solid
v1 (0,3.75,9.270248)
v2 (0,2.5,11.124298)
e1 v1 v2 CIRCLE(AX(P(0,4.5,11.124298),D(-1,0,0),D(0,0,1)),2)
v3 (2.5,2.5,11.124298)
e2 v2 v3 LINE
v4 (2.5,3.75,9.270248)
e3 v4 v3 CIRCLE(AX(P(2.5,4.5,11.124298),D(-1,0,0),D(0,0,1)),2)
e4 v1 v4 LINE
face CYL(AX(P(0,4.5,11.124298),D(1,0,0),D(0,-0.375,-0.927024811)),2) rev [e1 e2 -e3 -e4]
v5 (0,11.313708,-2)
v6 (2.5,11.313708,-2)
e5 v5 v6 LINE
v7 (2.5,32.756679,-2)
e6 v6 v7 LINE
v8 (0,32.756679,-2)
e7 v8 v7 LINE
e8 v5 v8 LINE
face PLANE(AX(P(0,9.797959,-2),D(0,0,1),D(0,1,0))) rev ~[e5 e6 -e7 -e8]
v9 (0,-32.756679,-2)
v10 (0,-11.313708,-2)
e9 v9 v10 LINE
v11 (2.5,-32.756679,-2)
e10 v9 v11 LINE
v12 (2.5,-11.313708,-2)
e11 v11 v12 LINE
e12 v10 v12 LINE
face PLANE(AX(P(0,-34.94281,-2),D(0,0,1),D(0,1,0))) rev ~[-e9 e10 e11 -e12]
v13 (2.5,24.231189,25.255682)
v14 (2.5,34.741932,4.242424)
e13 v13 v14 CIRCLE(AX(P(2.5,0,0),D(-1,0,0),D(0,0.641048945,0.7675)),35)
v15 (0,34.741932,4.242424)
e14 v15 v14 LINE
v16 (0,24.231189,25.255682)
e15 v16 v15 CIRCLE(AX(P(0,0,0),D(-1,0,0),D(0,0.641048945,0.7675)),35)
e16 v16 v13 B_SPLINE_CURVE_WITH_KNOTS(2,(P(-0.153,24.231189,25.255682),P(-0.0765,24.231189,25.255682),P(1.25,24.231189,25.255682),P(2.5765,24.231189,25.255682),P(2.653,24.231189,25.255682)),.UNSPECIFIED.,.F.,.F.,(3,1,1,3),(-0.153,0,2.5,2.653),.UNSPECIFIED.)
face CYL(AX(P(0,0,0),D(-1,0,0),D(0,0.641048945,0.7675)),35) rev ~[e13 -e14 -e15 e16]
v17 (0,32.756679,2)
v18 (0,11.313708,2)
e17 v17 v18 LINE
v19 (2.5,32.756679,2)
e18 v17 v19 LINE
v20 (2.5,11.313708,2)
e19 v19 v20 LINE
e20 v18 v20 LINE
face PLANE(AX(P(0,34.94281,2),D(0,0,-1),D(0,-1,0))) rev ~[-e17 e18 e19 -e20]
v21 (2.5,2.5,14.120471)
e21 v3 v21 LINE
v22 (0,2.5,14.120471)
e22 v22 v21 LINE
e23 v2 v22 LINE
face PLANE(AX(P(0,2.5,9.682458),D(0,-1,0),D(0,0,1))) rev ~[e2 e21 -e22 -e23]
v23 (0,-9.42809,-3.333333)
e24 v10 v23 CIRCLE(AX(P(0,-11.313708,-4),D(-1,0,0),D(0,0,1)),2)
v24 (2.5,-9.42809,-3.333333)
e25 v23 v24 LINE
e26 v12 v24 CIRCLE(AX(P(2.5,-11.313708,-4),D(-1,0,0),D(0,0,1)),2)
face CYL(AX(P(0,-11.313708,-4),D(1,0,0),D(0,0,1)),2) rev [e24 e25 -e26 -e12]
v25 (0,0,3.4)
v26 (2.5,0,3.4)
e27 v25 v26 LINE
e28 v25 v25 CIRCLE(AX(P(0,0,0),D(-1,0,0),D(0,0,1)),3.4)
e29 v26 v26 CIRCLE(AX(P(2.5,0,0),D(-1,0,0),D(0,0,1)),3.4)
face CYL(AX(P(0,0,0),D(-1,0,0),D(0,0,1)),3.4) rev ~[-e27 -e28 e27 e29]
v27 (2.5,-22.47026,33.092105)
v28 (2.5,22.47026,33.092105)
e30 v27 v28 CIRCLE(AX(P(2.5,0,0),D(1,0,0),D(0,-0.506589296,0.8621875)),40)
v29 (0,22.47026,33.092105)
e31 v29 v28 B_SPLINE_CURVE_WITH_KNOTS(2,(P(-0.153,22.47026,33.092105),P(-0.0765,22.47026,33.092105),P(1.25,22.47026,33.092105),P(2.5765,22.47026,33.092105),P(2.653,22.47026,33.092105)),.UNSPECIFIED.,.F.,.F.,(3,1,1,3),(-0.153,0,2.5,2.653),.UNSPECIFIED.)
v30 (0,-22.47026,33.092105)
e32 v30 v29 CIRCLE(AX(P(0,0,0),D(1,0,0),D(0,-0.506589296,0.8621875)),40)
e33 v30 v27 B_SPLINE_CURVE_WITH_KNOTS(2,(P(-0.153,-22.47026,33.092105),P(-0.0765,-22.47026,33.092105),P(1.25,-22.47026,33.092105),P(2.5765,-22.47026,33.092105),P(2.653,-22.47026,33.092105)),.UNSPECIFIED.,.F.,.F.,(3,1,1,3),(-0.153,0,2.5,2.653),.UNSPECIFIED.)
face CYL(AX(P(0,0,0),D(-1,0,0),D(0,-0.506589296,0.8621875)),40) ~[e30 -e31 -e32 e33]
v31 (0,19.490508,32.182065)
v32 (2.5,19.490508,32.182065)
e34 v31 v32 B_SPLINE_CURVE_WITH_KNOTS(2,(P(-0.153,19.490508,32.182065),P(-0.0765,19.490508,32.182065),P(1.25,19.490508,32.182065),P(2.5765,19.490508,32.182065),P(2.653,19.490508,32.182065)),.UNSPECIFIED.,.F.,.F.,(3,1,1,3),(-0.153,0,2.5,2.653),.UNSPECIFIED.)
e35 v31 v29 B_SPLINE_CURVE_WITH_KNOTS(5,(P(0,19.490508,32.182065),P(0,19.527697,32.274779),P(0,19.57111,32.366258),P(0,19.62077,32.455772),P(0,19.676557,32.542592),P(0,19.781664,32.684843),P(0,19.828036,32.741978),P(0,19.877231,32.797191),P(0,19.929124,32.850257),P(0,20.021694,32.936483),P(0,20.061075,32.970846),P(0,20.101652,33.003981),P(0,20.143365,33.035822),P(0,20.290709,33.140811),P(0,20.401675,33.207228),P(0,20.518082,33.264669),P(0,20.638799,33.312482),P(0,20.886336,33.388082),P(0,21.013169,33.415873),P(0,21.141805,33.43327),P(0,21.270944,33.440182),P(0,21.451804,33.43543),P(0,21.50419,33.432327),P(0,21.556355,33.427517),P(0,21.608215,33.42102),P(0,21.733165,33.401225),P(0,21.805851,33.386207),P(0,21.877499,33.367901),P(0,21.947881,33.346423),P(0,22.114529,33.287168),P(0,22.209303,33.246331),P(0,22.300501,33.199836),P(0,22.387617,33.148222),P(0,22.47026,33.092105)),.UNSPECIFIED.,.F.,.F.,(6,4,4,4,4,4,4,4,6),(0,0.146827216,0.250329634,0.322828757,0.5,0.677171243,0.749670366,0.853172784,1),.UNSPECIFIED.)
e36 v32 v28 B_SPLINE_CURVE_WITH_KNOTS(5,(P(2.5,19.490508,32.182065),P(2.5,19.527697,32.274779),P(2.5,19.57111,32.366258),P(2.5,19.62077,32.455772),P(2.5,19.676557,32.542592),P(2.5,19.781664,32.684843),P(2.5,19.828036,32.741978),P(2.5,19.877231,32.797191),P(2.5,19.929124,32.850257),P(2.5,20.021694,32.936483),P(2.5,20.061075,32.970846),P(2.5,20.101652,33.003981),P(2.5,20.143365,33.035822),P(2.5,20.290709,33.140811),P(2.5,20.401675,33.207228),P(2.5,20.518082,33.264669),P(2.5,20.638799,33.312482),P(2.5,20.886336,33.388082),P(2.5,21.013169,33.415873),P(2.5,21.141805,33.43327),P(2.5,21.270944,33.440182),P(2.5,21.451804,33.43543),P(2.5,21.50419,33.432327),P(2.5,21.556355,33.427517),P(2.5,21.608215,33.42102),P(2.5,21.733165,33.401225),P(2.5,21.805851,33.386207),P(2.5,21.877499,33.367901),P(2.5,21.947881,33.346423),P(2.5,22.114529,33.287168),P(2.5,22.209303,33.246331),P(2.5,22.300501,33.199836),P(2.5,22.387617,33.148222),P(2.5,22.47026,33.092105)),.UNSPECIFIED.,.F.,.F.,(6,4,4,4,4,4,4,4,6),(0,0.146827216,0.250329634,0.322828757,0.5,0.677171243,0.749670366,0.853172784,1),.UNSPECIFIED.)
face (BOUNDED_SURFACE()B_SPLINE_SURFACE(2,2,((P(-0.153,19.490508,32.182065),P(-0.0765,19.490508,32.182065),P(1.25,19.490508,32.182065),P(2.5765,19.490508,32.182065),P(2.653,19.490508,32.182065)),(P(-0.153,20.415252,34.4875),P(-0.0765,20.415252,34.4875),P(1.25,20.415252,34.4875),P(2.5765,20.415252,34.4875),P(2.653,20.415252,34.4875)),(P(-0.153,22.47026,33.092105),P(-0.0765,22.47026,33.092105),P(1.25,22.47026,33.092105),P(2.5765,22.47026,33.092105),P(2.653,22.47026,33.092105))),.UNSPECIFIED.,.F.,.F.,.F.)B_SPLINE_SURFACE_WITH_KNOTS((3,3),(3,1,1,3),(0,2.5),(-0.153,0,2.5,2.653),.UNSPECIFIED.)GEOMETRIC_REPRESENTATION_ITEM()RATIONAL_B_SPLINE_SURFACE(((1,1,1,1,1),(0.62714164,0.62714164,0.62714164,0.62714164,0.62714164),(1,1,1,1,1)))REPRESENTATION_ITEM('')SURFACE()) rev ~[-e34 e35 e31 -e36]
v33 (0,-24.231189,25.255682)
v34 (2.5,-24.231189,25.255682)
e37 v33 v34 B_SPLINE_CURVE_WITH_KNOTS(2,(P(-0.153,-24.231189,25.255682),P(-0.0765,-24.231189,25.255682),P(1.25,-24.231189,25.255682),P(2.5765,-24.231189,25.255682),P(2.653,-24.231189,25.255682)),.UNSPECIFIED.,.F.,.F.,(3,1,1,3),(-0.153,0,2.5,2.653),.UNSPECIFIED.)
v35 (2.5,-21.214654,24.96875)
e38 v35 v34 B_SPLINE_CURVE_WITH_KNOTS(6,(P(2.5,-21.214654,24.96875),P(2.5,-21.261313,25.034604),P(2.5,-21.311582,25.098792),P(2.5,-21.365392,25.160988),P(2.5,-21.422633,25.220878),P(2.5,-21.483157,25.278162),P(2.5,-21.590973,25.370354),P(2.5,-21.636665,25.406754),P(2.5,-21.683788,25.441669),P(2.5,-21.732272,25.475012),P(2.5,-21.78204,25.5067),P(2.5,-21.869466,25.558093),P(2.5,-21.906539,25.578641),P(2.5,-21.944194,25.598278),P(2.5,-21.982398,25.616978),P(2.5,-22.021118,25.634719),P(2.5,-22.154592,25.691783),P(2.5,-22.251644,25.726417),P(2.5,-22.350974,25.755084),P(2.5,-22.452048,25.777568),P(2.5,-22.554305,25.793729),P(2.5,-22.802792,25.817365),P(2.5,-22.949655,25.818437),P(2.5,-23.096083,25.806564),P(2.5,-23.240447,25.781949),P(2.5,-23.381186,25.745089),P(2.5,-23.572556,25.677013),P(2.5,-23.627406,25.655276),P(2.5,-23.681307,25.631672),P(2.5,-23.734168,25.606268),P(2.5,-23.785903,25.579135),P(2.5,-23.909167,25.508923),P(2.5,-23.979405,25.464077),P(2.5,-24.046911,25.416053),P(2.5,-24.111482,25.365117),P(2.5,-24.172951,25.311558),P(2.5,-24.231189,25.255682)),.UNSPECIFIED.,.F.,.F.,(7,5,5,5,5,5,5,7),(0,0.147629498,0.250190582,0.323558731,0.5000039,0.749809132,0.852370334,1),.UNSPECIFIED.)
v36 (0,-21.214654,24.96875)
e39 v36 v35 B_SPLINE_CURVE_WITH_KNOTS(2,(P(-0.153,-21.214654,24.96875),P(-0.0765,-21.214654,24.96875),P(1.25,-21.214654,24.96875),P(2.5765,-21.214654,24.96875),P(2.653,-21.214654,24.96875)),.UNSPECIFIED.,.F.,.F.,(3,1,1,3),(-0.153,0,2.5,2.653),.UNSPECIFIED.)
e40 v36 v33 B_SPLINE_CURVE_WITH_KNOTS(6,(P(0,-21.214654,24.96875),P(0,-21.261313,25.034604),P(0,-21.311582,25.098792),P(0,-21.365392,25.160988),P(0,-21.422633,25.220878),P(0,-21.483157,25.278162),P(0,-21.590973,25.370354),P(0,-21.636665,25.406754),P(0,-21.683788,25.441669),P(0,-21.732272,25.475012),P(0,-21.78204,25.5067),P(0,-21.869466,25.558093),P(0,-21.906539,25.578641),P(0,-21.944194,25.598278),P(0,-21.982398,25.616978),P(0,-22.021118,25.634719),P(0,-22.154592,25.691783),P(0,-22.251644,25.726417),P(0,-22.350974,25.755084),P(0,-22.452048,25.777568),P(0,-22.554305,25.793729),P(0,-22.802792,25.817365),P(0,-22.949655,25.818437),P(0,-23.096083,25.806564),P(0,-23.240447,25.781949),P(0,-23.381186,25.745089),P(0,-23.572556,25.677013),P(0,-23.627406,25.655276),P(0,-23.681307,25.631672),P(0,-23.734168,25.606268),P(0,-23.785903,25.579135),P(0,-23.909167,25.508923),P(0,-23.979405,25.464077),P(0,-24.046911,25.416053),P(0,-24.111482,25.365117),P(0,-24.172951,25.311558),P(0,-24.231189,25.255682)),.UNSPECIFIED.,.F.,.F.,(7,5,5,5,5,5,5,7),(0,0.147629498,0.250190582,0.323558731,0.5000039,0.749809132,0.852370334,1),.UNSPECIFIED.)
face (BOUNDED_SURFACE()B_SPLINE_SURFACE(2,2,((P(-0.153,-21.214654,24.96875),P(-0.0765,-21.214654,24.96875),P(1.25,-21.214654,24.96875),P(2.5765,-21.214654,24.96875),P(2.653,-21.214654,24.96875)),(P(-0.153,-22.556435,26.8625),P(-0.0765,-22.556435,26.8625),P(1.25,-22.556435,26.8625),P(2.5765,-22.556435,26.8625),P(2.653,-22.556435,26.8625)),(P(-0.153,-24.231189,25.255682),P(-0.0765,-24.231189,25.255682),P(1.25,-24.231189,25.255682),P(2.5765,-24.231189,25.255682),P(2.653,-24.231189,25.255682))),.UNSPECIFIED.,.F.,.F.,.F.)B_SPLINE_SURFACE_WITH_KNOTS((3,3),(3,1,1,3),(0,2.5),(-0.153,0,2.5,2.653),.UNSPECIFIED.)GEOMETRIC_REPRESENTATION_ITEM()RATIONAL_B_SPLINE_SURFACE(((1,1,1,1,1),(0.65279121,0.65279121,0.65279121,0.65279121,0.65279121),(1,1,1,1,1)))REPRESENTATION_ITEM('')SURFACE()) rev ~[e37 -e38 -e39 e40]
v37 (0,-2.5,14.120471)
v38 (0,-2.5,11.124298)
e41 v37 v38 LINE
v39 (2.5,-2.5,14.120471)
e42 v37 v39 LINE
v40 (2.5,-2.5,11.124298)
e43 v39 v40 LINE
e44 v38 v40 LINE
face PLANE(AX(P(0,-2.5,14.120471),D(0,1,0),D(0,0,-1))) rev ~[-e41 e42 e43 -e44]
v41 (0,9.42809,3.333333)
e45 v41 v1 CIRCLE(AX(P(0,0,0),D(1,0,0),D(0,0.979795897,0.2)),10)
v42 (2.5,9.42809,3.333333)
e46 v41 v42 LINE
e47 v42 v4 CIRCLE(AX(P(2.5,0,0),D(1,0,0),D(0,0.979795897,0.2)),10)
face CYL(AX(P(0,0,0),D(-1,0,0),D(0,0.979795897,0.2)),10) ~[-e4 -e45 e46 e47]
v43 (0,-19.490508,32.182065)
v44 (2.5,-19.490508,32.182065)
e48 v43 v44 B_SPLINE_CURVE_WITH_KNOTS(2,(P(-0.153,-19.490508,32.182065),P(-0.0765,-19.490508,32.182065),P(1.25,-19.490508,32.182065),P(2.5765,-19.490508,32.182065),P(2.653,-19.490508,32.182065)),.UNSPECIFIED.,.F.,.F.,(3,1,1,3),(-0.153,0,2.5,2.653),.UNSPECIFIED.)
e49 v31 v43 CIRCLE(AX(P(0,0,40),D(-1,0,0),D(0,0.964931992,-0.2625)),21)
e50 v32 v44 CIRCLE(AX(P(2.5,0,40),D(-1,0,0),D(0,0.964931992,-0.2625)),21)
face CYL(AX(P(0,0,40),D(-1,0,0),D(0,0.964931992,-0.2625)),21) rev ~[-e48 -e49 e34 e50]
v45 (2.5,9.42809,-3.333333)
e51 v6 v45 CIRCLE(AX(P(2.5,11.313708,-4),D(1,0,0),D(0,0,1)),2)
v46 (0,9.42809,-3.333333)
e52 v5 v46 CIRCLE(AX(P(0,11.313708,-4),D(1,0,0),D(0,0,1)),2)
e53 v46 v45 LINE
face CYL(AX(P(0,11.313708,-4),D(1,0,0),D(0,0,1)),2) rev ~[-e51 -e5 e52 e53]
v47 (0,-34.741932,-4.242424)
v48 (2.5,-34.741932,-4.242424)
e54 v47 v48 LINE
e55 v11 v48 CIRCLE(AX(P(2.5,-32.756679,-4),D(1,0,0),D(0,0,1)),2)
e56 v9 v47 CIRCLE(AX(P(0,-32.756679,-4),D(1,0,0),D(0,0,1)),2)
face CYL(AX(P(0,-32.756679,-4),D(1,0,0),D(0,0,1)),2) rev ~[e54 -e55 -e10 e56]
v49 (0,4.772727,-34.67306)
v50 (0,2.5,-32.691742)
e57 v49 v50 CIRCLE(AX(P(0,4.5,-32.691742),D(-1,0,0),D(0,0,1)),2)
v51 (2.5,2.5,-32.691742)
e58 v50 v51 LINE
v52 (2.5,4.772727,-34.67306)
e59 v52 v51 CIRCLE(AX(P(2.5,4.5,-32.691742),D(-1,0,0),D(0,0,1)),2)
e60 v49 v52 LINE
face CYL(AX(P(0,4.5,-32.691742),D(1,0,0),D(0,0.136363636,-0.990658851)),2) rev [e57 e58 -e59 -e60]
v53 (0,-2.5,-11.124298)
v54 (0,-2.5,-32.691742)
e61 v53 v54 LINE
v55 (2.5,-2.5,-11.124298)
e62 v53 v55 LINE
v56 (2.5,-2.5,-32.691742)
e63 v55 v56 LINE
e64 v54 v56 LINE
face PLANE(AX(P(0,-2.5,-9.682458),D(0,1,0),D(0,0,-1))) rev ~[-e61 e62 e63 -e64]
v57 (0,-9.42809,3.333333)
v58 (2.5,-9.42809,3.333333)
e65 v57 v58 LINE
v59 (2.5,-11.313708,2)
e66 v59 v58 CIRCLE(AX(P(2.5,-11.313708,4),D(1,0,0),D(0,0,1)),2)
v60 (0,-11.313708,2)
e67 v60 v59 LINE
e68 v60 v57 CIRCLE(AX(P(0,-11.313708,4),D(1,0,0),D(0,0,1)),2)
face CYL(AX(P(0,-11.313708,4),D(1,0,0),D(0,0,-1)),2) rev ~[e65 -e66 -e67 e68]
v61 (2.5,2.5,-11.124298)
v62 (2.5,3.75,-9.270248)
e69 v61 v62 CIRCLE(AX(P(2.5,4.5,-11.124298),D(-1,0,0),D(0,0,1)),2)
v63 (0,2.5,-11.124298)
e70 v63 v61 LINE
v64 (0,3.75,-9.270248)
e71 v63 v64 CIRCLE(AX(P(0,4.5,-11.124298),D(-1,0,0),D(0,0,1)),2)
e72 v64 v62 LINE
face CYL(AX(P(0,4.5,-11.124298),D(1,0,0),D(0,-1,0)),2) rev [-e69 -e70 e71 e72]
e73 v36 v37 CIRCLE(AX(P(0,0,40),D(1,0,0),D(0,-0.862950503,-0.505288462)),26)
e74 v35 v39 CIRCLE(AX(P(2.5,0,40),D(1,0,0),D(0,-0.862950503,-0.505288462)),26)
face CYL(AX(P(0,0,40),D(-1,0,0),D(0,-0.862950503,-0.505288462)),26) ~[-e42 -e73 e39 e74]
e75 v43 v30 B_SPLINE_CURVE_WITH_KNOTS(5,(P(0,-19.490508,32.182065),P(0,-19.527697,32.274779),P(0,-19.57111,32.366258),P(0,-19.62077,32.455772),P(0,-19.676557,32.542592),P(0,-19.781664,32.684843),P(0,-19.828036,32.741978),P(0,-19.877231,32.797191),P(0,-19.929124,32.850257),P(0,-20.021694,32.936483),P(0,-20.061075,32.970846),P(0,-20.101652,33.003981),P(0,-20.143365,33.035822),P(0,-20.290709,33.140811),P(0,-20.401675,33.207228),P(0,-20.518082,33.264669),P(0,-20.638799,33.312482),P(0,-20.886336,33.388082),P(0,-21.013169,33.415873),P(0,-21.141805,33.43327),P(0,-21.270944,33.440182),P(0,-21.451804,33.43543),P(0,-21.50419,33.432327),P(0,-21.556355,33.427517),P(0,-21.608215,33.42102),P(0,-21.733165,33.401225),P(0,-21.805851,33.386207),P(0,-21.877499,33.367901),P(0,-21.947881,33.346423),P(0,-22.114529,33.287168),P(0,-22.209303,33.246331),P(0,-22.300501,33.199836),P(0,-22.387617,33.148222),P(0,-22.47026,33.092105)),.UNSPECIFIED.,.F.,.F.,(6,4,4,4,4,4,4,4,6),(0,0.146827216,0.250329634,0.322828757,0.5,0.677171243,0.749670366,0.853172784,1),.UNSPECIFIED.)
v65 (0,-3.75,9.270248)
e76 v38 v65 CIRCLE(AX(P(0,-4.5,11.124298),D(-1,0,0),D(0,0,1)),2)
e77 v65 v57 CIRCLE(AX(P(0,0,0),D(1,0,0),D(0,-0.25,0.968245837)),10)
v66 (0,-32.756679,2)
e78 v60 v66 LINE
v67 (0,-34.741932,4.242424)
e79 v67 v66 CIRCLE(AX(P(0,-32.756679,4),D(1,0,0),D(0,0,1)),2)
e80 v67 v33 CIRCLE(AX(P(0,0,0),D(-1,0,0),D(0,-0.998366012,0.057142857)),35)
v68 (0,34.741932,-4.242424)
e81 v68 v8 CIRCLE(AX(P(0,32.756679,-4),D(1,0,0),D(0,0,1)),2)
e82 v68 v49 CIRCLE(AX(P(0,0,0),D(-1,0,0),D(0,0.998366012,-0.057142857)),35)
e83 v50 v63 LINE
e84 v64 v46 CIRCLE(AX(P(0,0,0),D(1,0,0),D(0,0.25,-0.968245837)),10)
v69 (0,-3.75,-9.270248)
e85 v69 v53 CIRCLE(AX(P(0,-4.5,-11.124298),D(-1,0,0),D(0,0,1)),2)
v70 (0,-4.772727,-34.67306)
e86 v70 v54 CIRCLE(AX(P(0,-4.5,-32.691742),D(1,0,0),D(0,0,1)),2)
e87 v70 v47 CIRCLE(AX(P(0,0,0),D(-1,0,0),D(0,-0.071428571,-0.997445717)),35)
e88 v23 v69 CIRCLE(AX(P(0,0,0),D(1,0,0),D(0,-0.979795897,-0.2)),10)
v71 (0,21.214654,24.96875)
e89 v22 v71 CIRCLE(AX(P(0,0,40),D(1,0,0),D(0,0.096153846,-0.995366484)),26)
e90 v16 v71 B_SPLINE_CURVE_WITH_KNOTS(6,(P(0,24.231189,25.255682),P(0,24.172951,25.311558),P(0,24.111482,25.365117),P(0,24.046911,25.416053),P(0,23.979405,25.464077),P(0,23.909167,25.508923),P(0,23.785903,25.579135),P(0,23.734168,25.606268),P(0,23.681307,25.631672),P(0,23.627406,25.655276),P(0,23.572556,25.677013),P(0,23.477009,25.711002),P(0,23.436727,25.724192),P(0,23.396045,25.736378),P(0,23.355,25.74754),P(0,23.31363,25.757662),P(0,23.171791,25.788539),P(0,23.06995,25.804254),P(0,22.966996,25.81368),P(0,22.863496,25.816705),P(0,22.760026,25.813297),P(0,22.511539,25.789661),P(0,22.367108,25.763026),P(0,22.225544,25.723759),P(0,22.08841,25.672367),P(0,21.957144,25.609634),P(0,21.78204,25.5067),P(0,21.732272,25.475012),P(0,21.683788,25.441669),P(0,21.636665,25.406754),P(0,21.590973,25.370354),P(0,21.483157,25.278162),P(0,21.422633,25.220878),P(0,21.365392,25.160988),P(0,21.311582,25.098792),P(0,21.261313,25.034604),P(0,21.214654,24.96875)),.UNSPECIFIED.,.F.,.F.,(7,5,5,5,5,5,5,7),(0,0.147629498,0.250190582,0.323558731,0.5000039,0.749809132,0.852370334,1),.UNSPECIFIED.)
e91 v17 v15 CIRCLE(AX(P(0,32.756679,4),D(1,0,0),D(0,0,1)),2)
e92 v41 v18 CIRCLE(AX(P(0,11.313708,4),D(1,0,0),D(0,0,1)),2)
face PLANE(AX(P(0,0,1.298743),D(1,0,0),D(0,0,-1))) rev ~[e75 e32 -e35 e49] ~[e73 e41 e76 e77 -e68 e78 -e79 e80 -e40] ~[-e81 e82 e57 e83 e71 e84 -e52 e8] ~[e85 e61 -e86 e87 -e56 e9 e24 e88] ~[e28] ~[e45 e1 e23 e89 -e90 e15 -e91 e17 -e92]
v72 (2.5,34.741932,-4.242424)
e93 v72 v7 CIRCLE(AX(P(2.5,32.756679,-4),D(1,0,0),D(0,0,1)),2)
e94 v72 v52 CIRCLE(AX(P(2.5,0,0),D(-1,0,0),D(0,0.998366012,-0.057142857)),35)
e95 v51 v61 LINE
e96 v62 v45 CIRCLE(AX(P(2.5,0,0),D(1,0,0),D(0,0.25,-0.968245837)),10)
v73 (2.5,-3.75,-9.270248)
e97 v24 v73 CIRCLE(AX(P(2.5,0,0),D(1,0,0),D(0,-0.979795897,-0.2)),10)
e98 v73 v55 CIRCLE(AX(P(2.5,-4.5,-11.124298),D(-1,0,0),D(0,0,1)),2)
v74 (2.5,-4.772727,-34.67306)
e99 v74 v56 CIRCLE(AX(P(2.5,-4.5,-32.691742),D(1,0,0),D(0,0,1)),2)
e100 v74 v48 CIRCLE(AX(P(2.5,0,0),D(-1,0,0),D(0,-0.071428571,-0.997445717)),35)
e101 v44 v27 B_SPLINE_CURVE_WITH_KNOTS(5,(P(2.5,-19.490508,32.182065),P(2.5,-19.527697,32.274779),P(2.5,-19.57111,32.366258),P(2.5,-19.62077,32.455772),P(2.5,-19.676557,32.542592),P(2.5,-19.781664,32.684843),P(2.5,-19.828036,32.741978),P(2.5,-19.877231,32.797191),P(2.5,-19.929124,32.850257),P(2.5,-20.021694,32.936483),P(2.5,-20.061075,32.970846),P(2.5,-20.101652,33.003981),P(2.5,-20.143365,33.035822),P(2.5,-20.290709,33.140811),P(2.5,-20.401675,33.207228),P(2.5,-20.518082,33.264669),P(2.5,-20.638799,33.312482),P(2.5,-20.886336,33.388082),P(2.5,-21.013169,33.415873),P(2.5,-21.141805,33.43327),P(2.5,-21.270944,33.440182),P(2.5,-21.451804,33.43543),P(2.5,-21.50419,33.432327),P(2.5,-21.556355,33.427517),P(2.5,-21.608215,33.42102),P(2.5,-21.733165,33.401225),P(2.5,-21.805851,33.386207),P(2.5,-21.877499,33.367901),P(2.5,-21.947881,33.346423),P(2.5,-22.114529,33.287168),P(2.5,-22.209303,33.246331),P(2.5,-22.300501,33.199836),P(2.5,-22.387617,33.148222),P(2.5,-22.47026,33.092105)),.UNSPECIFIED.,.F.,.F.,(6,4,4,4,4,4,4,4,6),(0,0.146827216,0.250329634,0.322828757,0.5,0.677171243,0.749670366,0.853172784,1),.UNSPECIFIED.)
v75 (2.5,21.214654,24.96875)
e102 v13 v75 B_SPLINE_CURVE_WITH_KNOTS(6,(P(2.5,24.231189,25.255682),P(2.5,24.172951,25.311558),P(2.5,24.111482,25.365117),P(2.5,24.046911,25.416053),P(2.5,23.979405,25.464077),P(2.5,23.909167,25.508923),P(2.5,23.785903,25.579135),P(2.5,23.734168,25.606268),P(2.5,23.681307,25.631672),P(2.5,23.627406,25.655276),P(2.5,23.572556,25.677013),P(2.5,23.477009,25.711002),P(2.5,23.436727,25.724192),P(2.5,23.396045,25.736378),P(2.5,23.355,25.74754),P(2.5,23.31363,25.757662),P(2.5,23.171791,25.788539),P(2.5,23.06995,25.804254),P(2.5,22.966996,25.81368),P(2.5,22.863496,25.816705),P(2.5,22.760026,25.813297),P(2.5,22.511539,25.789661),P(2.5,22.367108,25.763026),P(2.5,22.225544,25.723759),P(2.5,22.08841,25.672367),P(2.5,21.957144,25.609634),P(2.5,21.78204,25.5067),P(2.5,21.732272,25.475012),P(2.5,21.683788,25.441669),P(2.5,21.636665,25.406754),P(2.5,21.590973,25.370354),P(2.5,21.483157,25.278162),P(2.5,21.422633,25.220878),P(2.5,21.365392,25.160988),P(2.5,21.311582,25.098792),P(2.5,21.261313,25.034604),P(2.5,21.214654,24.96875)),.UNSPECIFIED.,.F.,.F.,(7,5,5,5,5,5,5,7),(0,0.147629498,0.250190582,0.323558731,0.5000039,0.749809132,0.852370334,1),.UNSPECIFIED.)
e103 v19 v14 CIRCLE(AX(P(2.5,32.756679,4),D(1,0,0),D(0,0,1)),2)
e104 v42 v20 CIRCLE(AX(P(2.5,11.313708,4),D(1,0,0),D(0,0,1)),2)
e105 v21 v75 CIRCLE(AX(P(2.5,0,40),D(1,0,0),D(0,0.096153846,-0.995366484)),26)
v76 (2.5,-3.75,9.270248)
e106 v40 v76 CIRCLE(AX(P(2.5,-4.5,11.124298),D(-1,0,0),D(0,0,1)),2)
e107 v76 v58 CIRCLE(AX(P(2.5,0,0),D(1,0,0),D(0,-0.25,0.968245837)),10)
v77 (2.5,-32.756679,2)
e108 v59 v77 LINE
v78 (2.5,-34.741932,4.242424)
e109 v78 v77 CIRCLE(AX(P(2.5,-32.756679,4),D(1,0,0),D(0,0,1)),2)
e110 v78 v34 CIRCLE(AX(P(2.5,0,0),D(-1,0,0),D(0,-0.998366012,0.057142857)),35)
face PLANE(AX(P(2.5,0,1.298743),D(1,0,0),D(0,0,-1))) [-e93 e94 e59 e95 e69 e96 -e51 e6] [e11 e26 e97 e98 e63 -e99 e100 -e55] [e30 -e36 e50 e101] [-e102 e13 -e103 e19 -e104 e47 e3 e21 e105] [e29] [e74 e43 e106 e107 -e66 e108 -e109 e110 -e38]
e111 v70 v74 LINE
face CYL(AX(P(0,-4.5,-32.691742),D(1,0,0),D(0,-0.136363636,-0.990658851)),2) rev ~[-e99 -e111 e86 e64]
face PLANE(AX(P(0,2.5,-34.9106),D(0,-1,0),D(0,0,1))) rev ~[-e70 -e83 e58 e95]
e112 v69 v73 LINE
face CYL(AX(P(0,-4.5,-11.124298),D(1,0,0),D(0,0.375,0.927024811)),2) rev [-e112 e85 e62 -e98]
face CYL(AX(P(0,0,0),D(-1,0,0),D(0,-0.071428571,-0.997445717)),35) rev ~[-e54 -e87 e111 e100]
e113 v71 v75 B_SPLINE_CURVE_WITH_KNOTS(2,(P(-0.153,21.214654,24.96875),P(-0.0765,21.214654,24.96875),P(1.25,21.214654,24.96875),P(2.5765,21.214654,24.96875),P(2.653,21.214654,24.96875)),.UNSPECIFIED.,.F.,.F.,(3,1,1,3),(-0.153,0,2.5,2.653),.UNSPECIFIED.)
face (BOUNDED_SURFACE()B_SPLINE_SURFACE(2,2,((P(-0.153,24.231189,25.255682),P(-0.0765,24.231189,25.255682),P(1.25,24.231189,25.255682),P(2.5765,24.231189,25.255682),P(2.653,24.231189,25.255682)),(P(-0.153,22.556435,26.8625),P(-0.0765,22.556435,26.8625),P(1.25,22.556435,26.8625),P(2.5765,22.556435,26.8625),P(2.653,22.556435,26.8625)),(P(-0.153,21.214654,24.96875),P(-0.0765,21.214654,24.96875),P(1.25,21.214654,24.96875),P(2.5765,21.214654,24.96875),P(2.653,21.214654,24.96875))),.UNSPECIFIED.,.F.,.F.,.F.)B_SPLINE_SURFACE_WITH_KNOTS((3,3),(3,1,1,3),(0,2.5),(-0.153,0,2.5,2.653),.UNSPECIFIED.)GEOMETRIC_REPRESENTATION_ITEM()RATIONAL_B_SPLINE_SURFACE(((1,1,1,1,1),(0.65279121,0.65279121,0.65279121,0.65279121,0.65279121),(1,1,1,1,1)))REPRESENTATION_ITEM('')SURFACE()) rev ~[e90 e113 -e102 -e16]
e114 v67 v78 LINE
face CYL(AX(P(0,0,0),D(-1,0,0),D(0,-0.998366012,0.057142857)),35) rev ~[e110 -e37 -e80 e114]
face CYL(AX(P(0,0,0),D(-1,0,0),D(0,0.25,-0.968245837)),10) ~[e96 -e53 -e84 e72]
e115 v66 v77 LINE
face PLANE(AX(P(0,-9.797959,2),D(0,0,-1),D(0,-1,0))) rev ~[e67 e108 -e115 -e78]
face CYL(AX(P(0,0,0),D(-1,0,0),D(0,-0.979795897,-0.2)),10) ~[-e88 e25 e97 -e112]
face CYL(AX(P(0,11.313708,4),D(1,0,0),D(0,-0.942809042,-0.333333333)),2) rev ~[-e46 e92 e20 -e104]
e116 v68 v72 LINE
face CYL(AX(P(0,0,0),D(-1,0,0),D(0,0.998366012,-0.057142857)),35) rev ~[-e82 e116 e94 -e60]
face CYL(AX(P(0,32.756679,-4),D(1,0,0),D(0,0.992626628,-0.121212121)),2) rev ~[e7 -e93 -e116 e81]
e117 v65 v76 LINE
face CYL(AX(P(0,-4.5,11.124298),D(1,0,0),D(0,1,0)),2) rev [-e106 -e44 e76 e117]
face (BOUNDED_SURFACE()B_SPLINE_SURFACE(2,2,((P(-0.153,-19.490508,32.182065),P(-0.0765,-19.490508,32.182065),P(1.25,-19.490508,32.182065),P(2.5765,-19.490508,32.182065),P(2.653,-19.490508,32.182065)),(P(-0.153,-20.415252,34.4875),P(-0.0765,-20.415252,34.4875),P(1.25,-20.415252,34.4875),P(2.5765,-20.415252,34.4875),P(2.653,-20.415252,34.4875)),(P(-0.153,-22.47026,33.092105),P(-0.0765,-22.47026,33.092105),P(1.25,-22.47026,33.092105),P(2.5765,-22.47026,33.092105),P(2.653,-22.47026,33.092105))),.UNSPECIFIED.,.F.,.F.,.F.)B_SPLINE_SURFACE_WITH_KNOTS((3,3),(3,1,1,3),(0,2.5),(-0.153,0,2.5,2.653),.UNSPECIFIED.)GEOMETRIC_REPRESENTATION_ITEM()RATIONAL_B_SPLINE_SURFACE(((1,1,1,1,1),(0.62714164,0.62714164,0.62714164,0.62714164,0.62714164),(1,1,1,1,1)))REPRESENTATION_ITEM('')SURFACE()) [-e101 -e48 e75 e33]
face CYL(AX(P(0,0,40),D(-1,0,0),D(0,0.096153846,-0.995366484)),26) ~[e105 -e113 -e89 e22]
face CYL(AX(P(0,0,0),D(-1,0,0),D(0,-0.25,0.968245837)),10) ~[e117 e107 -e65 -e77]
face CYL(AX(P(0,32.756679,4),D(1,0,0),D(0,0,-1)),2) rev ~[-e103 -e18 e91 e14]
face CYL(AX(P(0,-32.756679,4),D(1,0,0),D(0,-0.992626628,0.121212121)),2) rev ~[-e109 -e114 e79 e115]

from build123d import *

# Parameters (mm, degrees)
SKETCH1_R           = 1.6
BOSS_EXTRUDE1_DEPTH = 2.5
FILLET1_R           = 2
SKETCH2_R           = 3.4
CUT_EXTRUDE1_DEPTH  = 3.5000001


with BuildPart() as part:
    # Sketch1 → Boss-Extrude1 (new body)
    with BuildSketch(Plane(origin=(0, 0, 0), x_dir=(0, 0, -1), z_dir=(1, 0, 0))):
        with BuildLine():
            ThreePointArc((-34.4875, 20.263571841), (-19, 0), (-34.4875, -20.263571841))
            ThreePointArc((-34.4875, -20.263571841), (40, 0), (-34.4875, 20.263571841))
        make_face()
        with BuildLine():
            Line((-9.682458366, 2.5), (-14.120471411, 2.5))
            ThreePointArc((-14.120471411, 2.5), (-18.092232837, 14.001776242), (-26.8625, 22.436713078))
            ThreePointArc((-26.8625, 22.436713078), (-15.727733284, 31.267209753), (-2, 34.942810419))
            Line((-2, 34.942810419), (-2, 9.797958971))
            ThreePointArc((-2, 9.797958971), (-6.887307867, 7.250171746), (-9.682458366, 2.5))
        make_face(mode=Mode.SUBTRACT)
        with BuildLine():
            Line((-14.120471411, -2.5), (-9.682458366, -2.5))
            ThreePointArc((-9.682458366, -2.5), (-6.887307867, -7.250171746), (-2, -9.797958971))
            Line((-2, -9.797958971), (-2, -34.942810419))
            ThreePointArc((-2, -34.942810419), (-15.727733284, -31.267209753), (-26.8625, -22.436713078))
            ThreePointArc((-26.8625, -22.436713078), (-18.092232837, -14.001776242), (-14.120471411, -2.5))
        make_face(mode=Mode.SUBTRACT)
        with BuildLine():
            ThreePointArc((2, -9.797958971), (6.887307867, -7.250171746), (9.682458366, -2.5))
            Line((9.682458366, -2.5), (34.910600109, -2.5))
            ThreePointArc((34.910600109, -2.5), (24.570960239, -24.925246497), (2, -34.942810419))
            Line((2, -34.942810419), (2, -9.797958971))
        make_face(mode=Mode.SUBTRACT)
        with BuildLine():
            Line((34.910600109, 2.5), (9.682458366, 2.5))
            ThreePointArc((9.682458366, 2.5), (6.887307867, 7.250171746), (2, 9.797958971))
            Line((2, 9.797958971), (2, 34.942810419))
            ThreePointArc((2, 34.942810419), (24.570960239, 24.925246497), (34.910600109, 2.5))
        make_face(mode=Mode.SUBTRACT)
        Circle(SKETCH1_R, mode=Mode.SUBTRACT)
    extrude(amount=BOSS_EXTRUDE1_DEPTH)

    # Fillet1
    fillet1_edges = [part.edges().sort_by_distance(p)[0] for p in [
        (1.25, 20.263571841, 34.4875),
        (1.25, -20.263571841, 34.4875),
        (1.25, 9.797958971, 2),
        (1.25, 34.942810419, 2),
        (1.25, 22.436713078, 26.8625),
        (1.25, 2.5, 9.682458366),
        (1.25, 2.5, -34.910600109),
        (1.25, 34.942810419, -2),
        (1.25, 9.797958971, -2),
        (1.25, 2.5, -9.682458366),
        (1.25, -22.436713078, 26.8625),
        (1.25, -34.942810419, 2),
        (1.25, -9.797958971, 2),
        (1.25, -2.5, 9.682458366),
        (1.25, -9.797958971, -2),
        (1.25, -34.942810419, -2),
        (1.25, -2.5, -34.910600109),
        (1.25, -2.5, -9.682458366),
    ]]
    fillet(fillet1_edges, radius=FILLET1_R)

    # Sketch2 → Cut-Extrude1 (cut, through all)
    with BuildSketch(Plane.ZY):
        Circle(SKETCH2_R)
    extrude(amount=-CUT_EXTRUDE1_DEPTH, mode=Mode.SUBTRACT)


solid = part.part
